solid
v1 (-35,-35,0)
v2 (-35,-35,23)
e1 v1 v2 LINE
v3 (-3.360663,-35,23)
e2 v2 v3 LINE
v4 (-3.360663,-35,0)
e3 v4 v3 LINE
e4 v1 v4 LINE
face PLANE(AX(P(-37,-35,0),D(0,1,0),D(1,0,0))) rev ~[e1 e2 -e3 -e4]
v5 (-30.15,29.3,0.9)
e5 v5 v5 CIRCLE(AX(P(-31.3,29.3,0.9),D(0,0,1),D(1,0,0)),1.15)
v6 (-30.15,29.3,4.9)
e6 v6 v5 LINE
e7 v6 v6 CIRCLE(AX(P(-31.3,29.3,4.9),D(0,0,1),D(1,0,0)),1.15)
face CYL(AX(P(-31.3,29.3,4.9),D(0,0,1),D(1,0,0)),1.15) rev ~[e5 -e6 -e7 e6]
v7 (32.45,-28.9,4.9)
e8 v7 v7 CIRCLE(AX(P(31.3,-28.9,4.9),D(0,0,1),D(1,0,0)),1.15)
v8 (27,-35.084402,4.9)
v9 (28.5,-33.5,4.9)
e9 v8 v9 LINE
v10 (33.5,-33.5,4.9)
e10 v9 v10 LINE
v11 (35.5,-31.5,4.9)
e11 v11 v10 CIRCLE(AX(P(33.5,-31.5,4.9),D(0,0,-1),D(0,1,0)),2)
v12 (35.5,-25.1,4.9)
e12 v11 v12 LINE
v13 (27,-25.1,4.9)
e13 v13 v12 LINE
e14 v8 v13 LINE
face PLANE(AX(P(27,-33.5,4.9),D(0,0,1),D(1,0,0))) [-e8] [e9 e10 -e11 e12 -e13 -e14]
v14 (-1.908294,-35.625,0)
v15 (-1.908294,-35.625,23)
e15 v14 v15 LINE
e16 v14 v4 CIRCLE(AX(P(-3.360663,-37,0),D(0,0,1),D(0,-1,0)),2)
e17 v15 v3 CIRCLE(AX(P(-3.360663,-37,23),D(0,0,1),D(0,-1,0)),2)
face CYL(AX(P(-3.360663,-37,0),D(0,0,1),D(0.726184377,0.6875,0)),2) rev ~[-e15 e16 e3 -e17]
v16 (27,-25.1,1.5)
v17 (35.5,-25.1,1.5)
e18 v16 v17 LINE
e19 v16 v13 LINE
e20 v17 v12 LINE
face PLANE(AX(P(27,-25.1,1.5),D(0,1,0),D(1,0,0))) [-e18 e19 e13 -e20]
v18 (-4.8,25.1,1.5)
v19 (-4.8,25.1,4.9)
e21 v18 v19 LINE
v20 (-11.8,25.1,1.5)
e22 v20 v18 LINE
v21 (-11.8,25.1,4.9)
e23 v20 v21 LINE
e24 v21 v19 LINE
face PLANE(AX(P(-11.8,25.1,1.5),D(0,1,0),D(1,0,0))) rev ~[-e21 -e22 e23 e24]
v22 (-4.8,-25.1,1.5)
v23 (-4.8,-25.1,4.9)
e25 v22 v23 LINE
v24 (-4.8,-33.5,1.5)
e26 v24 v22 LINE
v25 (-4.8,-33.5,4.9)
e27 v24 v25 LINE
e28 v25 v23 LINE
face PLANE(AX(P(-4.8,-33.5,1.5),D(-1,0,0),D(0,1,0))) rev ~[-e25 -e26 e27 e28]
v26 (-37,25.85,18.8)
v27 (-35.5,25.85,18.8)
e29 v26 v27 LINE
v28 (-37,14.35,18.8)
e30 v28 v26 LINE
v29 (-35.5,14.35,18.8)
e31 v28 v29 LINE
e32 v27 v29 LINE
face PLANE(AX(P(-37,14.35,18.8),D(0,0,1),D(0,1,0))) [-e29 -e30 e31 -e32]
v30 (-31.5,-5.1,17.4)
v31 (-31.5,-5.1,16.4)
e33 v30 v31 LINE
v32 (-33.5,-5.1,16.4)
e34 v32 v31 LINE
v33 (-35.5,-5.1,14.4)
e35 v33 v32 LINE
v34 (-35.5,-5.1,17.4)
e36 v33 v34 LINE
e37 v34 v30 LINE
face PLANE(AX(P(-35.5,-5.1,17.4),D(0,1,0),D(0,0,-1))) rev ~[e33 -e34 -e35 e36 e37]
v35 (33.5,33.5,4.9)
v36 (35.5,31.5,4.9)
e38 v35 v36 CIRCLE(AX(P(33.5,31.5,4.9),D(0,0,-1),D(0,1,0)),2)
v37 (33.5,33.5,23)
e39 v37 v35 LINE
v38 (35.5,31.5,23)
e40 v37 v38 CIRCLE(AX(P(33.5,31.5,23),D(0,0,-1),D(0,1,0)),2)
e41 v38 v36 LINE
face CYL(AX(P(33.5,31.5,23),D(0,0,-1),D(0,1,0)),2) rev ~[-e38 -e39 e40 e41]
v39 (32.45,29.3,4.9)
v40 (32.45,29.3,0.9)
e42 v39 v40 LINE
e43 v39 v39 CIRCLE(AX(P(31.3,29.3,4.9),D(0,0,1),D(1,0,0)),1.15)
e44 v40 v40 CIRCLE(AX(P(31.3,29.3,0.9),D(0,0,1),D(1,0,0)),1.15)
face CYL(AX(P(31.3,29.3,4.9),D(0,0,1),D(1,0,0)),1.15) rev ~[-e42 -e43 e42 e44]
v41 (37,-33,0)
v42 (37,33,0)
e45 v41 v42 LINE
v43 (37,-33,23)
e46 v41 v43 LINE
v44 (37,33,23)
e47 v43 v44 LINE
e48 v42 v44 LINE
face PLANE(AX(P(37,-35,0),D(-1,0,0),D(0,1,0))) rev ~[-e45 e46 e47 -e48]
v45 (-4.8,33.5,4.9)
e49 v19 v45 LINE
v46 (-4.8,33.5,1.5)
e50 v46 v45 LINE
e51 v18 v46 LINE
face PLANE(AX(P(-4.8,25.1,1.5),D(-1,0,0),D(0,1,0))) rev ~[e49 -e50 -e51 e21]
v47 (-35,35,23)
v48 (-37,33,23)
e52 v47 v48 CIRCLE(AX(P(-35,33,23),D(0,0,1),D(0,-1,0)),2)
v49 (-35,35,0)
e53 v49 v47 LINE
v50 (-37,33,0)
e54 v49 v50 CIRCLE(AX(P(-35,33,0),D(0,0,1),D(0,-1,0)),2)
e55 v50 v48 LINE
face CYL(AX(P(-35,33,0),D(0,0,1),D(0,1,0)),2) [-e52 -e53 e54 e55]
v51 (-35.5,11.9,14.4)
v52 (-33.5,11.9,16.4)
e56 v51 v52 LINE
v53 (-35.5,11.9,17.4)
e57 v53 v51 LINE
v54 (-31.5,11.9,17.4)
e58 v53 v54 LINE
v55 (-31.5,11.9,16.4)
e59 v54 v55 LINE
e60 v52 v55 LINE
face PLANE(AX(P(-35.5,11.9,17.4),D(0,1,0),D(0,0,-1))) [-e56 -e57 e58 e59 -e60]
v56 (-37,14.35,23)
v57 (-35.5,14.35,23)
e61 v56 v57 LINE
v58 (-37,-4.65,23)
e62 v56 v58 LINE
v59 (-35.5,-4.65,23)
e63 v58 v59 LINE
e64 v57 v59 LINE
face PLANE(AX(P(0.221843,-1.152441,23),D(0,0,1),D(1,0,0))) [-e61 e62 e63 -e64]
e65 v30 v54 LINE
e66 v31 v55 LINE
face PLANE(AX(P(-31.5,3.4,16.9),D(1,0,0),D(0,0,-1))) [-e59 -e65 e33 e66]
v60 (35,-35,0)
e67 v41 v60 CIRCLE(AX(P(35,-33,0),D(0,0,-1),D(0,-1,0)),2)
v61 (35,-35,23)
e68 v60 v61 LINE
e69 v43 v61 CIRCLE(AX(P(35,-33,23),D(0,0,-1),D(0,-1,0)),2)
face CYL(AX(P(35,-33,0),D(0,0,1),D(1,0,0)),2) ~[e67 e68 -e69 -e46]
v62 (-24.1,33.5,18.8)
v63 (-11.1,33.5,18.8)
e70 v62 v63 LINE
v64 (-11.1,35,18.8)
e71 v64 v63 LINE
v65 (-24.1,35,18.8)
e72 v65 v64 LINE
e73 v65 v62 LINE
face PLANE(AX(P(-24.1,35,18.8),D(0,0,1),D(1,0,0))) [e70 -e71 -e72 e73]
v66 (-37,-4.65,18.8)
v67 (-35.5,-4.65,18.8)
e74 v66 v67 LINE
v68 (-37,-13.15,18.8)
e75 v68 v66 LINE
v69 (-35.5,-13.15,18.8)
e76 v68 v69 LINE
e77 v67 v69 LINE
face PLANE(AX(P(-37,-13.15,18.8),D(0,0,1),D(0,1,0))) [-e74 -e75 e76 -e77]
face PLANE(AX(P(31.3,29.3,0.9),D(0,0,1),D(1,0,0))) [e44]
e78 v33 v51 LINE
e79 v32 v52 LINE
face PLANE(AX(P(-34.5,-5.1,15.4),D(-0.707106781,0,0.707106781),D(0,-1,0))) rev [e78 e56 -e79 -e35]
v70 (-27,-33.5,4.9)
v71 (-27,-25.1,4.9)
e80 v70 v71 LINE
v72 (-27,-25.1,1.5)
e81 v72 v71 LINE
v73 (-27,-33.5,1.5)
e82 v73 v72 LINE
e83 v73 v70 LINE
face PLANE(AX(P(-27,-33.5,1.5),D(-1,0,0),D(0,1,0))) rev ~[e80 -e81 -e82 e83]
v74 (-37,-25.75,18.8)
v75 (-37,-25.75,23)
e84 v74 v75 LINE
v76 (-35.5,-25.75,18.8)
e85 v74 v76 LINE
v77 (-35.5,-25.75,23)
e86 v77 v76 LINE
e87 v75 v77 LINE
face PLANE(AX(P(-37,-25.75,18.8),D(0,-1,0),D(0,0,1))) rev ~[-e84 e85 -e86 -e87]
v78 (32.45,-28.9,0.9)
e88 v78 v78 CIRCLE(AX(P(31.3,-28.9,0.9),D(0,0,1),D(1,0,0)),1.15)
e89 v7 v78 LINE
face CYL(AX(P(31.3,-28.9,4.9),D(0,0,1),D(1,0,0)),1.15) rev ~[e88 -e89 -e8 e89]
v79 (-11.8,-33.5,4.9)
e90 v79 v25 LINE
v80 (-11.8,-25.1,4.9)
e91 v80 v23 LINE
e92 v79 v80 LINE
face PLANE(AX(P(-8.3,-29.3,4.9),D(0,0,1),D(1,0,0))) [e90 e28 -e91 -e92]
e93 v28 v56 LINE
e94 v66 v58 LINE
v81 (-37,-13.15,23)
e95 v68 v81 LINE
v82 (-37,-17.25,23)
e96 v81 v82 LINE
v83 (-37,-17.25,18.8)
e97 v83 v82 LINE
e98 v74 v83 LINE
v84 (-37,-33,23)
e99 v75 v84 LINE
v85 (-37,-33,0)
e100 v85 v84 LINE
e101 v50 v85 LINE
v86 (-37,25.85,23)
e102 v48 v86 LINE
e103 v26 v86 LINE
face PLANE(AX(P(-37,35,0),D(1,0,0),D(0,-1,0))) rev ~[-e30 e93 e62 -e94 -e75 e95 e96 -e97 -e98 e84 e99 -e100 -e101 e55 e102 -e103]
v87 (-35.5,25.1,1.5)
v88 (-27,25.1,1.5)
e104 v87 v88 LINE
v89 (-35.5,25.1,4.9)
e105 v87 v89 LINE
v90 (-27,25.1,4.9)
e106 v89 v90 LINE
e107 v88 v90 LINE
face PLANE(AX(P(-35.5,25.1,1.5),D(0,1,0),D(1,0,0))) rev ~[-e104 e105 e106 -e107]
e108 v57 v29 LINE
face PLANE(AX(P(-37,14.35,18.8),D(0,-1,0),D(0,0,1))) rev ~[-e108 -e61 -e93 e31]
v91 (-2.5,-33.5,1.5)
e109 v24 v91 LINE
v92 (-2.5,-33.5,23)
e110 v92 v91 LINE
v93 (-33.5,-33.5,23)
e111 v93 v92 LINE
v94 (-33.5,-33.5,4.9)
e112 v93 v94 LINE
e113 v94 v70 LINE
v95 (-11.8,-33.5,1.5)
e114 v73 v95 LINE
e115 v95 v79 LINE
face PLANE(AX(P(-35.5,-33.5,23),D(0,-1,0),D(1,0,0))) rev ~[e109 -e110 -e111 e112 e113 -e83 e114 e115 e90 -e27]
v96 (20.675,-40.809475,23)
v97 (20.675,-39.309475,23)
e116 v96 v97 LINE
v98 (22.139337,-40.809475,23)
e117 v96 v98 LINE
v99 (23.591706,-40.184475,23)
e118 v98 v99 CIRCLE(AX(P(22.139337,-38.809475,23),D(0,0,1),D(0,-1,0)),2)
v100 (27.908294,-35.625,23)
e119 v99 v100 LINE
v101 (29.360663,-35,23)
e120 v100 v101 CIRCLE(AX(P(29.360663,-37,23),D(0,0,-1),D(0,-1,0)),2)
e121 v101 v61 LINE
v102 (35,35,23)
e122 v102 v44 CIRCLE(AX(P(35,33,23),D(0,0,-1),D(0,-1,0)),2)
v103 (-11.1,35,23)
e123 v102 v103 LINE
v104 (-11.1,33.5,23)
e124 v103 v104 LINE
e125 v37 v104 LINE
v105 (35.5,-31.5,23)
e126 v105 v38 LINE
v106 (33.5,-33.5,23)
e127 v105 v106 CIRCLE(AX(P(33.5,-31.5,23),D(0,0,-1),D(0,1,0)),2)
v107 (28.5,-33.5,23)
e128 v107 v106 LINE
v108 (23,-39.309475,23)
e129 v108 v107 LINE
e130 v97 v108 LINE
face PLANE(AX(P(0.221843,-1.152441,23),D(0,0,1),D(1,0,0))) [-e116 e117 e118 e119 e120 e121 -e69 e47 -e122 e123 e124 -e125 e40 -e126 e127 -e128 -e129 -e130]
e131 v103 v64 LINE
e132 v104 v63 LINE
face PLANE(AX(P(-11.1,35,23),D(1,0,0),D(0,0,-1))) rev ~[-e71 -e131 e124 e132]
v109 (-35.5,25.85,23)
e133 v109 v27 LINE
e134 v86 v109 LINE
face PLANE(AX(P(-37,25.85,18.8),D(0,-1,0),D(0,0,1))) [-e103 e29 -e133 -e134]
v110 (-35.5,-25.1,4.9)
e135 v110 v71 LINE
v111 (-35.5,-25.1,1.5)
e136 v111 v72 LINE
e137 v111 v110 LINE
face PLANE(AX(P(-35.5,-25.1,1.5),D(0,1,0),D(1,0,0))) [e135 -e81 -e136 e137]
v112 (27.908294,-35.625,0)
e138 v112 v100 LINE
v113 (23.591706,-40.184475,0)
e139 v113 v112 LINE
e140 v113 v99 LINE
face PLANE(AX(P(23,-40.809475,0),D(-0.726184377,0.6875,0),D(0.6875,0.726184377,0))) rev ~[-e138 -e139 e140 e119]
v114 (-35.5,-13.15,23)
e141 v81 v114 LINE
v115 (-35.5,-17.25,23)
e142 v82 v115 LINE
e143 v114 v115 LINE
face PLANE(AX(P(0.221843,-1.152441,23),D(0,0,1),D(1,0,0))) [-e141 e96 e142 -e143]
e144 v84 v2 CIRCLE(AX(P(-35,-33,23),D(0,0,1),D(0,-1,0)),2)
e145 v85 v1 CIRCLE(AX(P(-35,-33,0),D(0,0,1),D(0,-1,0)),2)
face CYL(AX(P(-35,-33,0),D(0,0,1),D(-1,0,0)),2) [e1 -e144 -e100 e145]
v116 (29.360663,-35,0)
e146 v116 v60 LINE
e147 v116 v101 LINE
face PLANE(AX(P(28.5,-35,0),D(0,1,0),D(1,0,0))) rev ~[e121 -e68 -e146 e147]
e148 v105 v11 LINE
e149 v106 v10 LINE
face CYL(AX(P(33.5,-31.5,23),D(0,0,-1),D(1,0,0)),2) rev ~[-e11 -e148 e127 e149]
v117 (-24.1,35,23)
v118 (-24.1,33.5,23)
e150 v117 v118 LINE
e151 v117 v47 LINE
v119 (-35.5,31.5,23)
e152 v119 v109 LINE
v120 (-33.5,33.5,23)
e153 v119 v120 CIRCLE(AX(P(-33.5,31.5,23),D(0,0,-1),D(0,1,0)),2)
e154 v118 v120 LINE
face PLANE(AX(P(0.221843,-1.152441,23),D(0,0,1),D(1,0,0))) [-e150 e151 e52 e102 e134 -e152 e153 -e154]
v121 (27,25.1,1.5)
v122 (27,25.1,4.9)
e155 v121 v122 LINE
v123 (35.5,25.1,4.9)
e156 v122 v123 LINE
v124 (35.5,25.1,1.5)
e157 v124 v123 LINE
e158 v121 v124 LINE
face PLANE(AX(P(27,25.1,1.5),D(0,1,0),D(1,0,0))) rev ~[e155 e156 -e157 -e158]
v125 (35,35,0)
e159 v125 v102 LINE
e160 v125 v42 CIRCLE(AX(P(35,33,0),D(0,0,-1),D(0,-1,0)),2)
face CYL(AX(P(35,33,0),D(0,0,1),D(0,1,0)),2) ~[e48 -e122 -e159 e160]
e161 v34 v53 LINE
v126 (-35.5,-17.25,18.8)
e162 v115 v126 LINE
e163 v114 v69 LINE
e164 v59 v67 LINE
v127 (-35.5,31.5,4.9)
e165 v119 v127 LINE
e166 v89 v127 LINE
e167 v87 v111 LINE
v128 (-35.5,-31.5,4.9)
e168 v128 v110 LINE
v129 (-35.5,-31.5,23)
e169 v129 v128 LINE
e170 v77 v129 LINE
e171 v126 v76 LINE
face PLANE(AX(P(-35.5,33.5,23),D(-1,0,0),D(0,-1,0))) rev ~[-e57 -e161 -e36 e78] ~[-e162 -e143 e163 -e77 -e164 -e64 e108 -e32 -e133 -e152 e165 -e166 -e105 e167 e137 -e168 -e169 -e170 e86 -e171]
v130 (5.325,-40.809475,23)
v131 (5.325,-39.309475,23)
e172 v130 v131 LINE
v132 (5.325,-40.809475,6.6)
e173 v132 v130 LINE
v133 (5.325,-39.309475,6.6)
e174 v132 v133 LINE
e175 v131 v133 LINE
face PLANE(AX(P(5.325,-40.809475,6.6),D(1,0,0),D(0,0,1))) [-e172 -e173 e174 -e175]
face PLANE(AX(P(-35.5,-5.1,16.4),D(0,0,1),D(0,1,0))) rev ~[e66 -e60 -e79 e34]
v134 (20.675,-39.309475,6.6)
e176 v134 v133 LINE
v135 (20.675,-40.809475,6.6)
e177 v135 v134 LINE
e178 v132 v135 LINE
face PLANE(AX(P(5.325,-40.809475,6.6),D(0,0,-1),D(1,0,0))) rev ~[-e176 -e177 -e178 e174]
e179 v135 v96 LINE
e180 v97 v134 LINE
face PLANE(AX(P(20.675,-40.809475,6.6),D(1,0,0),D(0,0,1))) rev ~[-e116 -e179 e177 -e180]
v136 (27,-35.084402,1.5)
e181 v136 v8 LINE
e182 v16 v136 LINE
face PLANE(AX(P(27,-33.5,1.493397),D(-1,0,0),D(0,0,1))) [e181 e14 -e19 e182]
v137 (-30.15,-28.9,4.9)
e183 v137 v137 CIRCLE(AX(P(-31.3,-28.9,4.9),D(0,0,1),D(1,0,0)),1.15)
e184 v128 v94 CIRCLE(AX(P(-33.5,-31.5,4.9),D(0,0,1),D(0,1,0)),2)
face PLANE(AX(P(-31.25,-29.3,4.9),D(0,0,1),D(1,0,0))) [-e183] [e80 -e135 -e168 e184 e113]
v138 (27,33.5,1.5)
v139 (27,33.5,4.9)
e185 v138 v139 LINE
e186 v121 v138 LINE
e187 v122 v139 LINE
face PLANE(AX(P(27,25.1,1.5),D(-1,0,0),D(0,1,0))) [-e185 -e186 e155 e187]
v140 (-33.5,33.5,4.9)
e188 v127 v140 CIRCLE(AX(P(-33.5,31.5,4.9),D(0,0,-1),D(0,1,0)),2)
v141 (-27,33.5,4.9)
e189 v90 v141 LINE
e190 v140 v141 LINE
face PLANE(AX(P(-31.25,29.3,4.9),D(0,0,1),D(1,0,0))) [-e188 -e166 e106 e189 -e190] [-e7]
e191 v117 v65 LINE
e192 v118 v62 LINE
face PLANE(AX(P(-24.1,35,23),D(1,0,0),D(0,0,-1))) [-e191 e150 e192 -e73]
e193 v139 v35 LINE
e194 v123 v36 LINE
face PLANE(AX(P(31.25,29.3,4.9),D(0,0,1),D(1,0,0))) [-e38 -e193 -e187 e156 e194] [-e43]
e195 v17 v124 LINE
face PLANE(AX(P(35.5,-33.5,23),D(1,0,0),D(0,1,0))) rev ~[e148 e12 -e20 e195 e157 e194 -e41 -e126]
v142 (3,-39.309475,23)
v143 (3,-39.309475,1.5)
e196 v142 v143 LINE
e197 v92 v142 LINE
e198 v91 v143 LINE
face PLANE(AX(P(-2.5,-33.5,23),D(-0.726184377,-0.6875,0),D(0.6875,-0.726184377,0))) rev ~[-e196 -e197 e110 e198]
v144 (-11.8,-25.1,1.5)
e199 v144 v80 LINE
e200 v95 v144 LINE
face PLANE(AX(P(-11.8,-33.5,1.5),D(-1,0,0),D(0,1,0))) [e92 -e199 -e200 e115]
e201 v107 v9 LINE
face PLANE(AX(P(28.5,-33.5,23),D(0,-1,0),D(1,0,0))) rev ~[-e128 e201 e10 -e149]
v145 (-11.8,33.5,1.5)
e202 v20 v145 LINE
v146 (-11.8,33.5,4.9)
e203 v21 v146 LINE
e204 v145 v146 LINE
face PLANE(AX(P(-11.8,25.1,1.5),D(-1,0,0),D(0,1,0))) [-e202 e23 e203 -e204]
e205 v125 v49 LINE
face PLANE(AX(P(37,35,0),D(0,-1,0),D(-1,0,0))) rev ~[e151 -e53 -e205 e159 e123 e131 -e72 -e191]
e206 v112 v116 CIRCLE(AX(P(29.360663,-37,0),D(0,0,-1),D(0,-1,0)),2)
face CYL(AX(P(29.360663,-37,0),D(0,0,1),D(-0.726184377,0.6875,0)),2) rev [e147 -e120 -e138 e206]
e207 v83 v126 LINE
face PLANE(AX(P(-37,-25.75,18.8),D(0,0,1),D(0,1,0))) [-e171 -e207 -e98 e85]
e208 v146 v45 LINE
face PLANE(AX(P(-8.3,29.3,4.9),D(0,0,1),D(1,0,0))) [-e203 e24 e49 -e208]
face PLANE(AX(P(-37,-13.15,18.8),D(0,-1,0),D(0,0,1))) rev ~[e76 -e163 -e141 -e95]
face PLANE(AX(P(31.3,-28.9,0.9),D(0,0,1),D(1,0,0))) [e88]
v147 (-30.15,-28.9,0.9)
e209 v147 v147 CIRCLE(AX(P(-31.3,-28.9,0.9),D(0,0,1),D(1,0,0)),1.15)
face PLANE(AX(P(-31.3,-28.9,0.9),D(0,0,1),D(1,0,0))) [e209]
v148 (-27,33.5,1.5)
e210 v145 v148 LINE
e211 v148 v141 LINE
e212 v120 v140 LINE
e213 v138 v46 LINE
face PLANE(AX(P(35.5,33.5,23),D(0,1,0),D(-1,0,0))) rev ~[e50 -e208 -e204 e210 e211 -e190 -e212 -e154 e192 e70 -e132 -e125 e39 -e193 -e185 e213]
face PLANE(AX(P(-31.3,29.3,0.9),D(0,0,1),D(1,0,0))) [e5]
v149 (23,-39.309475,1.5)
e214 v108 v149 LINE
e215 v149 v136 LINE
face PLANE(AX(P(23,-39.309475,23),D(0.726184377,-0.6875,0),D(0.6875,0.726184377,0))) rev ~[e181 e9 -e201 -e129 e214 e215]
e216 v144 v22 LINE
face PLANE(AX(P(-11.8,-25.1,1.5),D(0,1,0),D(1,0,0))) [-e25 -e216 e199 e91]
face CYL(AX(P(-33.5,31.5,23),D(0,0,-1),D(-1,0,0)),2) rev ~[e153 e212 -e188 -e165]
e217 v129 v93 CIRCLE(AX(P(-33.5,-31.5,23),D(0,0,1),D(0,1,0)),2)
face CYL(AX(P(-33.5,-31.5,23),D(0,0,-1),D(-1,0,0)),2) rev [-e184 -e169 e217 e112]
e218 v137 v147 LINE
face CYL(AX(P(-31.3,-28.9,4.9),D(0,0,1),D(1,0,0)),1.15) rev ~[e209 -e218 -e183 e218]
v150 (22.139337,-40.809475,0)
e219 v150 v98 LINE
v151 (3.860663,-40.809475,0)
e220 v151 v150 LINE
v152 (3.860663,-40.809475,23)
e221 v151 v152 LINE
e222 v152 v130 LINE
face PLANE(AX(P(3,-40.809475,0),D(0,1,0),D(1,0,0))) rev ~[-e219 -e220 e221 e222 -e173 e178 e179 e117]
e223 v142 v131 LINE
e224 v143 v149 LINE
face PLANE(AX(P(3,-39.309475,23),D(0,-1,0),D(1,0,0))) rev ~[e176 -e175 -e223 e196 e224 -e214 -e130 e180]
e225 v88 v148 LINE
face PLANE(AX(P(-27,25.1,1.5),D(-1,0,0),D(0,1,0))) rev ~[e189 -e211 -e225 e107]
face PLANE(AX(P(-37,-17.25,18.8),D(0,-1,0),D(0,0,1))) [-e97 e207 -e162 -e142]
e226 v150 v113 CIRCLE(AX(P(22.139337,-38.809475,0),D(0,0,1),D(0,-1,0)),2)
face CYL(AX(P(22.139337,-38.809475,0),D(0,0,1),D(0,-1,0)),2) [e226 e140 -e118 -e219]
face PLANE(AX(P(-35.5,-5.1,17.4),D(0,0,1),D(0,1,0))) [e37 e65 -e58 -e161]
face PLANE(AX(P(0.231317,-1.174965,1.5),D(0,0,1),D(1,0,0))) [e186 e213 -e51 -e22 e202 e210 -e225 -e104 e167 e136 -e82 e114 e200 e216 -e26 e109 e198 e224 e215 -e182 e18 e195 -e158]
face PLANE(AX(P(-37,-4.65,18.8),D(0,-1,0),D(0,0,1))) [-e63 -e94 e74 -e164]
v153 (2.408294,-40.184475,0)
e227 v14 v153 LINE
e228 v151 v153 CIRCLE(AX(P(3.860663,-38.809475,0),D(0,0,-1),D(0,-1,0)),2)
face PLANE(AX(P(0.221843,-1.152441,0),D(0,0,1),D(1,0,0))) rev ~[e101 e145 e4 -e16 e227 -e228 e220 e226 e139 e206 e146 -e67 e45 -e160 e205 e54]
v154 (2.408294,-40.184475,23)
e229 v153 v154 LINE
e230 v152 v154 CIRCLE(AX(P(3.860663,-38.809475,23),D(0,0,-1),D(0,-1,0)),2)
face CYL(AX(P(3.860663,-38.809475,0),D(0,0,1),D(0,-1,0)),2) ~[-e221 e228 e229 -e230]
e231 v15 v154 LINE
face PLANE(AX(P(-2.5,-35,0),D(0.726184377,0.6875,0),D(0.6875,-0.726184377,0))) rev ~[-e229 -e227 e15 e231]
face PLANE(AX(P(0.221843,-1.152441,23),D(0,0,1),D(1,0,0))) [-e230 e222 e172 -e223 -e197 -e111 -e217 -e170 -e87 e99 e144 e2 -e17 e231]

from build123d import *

# Parameters (mm, degrees)
BOSS_EXTRU_1_DEPTH      = 23
ENL_V_MAT_EXTRU_1_DEPTH = 21.5
ESQUISSE3_W             = 8.5
ESQUISSE3_H             = 8.4
BOSS_EXTRU_3_DEPTH      = 3.4
BOSS_EXTRU_5_REACH      = 9.309
ESQUISSE4_W             = 1.5
ESQUISSE4_H             = 3.406602833
ESQUISSE23_R            = 1.15
ENL_V_MAT_EXTRU_2_DEPTH = 4
ESQUISSE24_W            = 7
ESQUISSE24_H            = 8.4
BOSS_EXTRU_6_DEPTH      = 3.4
ENL_V_MAT_EXTRU_4_REACH = 77.809
ESQUISSE26_W            = 15.35
ESQUISSE26_H            = 16.4
ESQUISSE27_W            = 1
ESQUISSE27_H            = 17
BOSS_EXTRU_7_DEPTH      = 4
CHANFREIN1_SIZE         = 2
ENL_V_MAT_EXTRU_5_REACH = 76
ESQUISSE28_W            = 4.2
ESQUISSE28_H            = 11.5
ENL_V_MAT_EXTRU_6_REACH = 76
ESQUISSE29_W            = 4.2
ESQUISSE29_H            = 8.5
ESQUISSE30_W            = 13
ESQUISSE30_H            = 4.2
ENL_V_MAT_EXTRU_8_DEPTH = 4
CONG_1_R                = 2


with BuildPart() as part:
    # Esquisse1 → Boss.-Extru.1 (new body)
    with BuildSketch(Plane.XY):
        Polygon((-2.5, -35), (3, -40.809475019), (23, -40.809475019), (28.5, -35), (37, -35), (37, 35), (-37, 35), (-37, -35), align=None)
    extrude(amount=BOSS_EXTRU_1_DEPTH)

    # Esquisse2 → Enlèv. mat.-Extru.1 (cut)
    with BuildSketch(Plane.XY.offset(23)):
        Polygon((-2.5, -33.5), (3, -39.309475019), (23, -39.309475019), (28.5, -33.5), (35.5, -33.5), (35.5, 33.5), (-35.5, 33.5), (-35.5, -33.5), align=None)
    extrude(amount=-ENL_V_MAT_EXTRU_1_DEPTH, mode=Mode.SUBTRACT)

    # Esquisse3 → Boss.-Extru.3 (add)
    with BuildSketch(Plane.XY.offset(1.5)):
        with Locations((31.25, 29.3)):
            Rectangle(ESQUISSE3_W, ESQUISSE3_H)
        with Locations((-31.25, 29.3)):
            Rectangle(ESQUISSE3_W, ESQUISSE3_H)
        with Locations((31.25, -29.3)):
            Rectangle(ESQUISSE3_W, ESQUISSE3_H)
        with Locations((-31.25, -29.3)):
            Rectangle(ESQUISSE3_W, ESQUISSE3_H)
    extrude(amount=BOSS_EXTRU_3_DEPTH)

    # Esquisse4 → Boss.-Extru.5 (add, up to next)
    with BuildSketch(Plane.XZ.offset(33.5), mode=Mode.PRIVATE) as boss_extru_5_sk1:
        with Locations((27.75, 3.196698584)):
            Rectangle(ESQUISSE4_W, ESQUISSE4_H)
    boss_extru_5_tool1 = extrude(boss_extru_5_sk1.sketch, amount=BOSS_EXTRU_5_REACH, mode=Mode.PRIVATE) - part.part
    add(boss_extru_5_tool1.solids().sort_by_distance((27.75, -33.5, 3.196699))[0])

    # Esquisse23 → Enlèv. mat.-Extru.2 (cut)
    with BuildSketch(Plane.XY.offset(4.9)):
        with Locations((31.3, 29.3)):
            Circle(ESQUISSE23_R)
        with Locations((-31.3, 29.3)):
            Circle(ESQUISSE23_R)
        with Locations((31.3, -28.9)):
            Circle(ESQUISSE23_R)
        with Locations((-31.3, -28.9)):
            Circle(ESQUISSE23_R)
    extrude(amount=-ENL_V_MAT_EXTRU_2_DEPTH, mode=Mode.SUBTRACT)

    # Esquisse24 → Boss.-Extru.6 (add)
    with BuildSketch(Plane.XY.offset(1.5)):
        with Locations((-8.3, 29.3)):
            Rectangle(ESQUISSE24_W, ESQUISSE24_H)
        with Locations((-8.3, -29.3)):
            Rectangle(ESQUISSE24_W, ESQUISSE24_H)
    extrude(amount=BOSS_EXTRU_6_DEPTH)

    # Esquisse26 → Enlèv. mat.-Extru.4 (cut, up to next)
    with BuildSketch(Plane.XZ.offset(40.809475019), mode=Mode.PRIVATE) as enl_v_mat_extru_4_sk1:
        with Locations((13, 14.8)):
            Rectangle(ESQUISSE26_W, ESQUISSE26_H)
    enl_v_mat_extru_4_tool1 = extrude(enl_v_mat_extru_4_sk1.sketch, amount=-ENL_V_MAT_EXTRU_4_REACH, mode=Mode.PRIVATE) & part.part
    add(enl_v_mat_extru_4_tool1.solids().sort_by_distance((13, -40.809475, 14.8))[0], mode=Mode.SUBTRACT)

    # Esquisse27 → Boss.-Extru.7 (add)
    with BuildSketch(Plane(origin=(-35.5, 0, 0), x_dir=(0, 0, -1), z_dir=(1, 0, 0))):
        with Locations((-16.9, 3.4)):
            Rectangle(ESQUISSE27_W, ESQUISSE27_H)
    extrude(amount=BOSS_EXTRU_7_DEPTH)

    # Chanfrein1
    chanfrein1_edges = [part.edges().sort_by_distance(p)[0] for p in [
        (-35.5, 3.4, 16.4),
    ]]
    chamfer(chanfrein1_edges, length=CHANFREIN1_SIZE)

    # Esquisse28 → Enlèv. mat.-Extru.5 (cut, up to next)
    with BuildSketch(Plane.ZY.offset(37), mode=Mode.PRIVATE) as enl_v_mat_extru_5_sk1:
        with Locations((20.9, 20.1)):
            Rectangle(ESQUISSE28_W, ESQUISSE28_H)
    enl_v_mat_extru_5_tool1 = extrude(enl_v_mat_extru_5_sk1.sketch, amount=-ENL_V_MAT_EXTRU_5_REACH, mode=Mode.PRIVATE) & part.part
    add(enl_v_mat_extru_5_tool1.solids().sort_by_distance((-37, 20.1, 20.9))[0], mode=Mode.SUBTRACT)

    # Esquisse29 → Enlèv. mat.-Extru.6 (cut, up to next)
    with BuildSketch(Plane.ZY.offset(37), mode=Mode.PRIVATE) as enl_v_mat_extru_6_sk1:
        with Locations((20.9, -8.9)):
            Rectangle(ESQUISSE29_W, ESQUISSE29_H)
    enl_v_mat_extru_6_tool1 = extrude(enl_v_mat_extru_6_sk1.sketch, amount=-ENL_V_MAT_EXTRU_6_REACH, mode=Mode.PRIVATE) & part.part
    add(enl_v_mat_extru_6_tool1.solids().sort_by_distance((-37, -8.9, 20.9))[0], mode=Mode.SUBTRACT)
    # Esquisse29 → Enlèv. mat.-Extru.6 (cut, up to next)
    with BuildSketch(Plane.ZY.offset(37), mode=Mode.PRIVATE) as enl_v_mat_extru_6_sk2:
        with Locations((20.9, -21.5)):
            Rectangle(ESQUISSE29_W, ESQUISSE29_H)
    enl_v_mat_extru_6_tool2 = extrude(enl_v_mat_extru_6_sk2.sketch, amount=-ENL_V_MAT_EXTRU_6_REACH, mode=Mode.PRIVATE) & part.part
    add(enl_v_mat_extru_6_tool2.solids().sort_by_distance((-37, -21.5, 20.9))[0], mode=Mode.SUBTRACT)

    # Esquisse30 → Enlèv. mat.-Extru.8 (cut)
    with BuildSketch(Plane(origin=(0, 35, 0), x_dir=(1, 0, 0), z_dir=(0, 1, 0))):
        with Locations((-17.6, -20.9)):
            Rectangle(ESQUISSE30_W, ESQUISSE30_H)
    extrude(amount=-ENL_V_MAT_EXTRU_8_DEPTH, mode=Mode.SUBTRACT)

    # Congé1
    cong_1_edges = [part.edges().sort_by_distance(p)[0] for p in [
        (28.5, -35, 11.5),
        (23, -40.809475019, 11.5),
        (3, -40.809475019, 11.5),
        (-2.5, -35, 11.5),
        (-37, -35, 11.5),
        (-37, 35, 11.5),
        (37, 35, 11.5),
        (37, -35, 11.5),
        (35.5, 33.5, 13.95),
        (-35.5, 33.5, 13.95),
        (35.5, -33.5, 13.95),
        (-35.5, -33.5, 13.95),
    ]]
    fillet(cong_1_edges, radius=CONG_1_R)


solid = part.part
